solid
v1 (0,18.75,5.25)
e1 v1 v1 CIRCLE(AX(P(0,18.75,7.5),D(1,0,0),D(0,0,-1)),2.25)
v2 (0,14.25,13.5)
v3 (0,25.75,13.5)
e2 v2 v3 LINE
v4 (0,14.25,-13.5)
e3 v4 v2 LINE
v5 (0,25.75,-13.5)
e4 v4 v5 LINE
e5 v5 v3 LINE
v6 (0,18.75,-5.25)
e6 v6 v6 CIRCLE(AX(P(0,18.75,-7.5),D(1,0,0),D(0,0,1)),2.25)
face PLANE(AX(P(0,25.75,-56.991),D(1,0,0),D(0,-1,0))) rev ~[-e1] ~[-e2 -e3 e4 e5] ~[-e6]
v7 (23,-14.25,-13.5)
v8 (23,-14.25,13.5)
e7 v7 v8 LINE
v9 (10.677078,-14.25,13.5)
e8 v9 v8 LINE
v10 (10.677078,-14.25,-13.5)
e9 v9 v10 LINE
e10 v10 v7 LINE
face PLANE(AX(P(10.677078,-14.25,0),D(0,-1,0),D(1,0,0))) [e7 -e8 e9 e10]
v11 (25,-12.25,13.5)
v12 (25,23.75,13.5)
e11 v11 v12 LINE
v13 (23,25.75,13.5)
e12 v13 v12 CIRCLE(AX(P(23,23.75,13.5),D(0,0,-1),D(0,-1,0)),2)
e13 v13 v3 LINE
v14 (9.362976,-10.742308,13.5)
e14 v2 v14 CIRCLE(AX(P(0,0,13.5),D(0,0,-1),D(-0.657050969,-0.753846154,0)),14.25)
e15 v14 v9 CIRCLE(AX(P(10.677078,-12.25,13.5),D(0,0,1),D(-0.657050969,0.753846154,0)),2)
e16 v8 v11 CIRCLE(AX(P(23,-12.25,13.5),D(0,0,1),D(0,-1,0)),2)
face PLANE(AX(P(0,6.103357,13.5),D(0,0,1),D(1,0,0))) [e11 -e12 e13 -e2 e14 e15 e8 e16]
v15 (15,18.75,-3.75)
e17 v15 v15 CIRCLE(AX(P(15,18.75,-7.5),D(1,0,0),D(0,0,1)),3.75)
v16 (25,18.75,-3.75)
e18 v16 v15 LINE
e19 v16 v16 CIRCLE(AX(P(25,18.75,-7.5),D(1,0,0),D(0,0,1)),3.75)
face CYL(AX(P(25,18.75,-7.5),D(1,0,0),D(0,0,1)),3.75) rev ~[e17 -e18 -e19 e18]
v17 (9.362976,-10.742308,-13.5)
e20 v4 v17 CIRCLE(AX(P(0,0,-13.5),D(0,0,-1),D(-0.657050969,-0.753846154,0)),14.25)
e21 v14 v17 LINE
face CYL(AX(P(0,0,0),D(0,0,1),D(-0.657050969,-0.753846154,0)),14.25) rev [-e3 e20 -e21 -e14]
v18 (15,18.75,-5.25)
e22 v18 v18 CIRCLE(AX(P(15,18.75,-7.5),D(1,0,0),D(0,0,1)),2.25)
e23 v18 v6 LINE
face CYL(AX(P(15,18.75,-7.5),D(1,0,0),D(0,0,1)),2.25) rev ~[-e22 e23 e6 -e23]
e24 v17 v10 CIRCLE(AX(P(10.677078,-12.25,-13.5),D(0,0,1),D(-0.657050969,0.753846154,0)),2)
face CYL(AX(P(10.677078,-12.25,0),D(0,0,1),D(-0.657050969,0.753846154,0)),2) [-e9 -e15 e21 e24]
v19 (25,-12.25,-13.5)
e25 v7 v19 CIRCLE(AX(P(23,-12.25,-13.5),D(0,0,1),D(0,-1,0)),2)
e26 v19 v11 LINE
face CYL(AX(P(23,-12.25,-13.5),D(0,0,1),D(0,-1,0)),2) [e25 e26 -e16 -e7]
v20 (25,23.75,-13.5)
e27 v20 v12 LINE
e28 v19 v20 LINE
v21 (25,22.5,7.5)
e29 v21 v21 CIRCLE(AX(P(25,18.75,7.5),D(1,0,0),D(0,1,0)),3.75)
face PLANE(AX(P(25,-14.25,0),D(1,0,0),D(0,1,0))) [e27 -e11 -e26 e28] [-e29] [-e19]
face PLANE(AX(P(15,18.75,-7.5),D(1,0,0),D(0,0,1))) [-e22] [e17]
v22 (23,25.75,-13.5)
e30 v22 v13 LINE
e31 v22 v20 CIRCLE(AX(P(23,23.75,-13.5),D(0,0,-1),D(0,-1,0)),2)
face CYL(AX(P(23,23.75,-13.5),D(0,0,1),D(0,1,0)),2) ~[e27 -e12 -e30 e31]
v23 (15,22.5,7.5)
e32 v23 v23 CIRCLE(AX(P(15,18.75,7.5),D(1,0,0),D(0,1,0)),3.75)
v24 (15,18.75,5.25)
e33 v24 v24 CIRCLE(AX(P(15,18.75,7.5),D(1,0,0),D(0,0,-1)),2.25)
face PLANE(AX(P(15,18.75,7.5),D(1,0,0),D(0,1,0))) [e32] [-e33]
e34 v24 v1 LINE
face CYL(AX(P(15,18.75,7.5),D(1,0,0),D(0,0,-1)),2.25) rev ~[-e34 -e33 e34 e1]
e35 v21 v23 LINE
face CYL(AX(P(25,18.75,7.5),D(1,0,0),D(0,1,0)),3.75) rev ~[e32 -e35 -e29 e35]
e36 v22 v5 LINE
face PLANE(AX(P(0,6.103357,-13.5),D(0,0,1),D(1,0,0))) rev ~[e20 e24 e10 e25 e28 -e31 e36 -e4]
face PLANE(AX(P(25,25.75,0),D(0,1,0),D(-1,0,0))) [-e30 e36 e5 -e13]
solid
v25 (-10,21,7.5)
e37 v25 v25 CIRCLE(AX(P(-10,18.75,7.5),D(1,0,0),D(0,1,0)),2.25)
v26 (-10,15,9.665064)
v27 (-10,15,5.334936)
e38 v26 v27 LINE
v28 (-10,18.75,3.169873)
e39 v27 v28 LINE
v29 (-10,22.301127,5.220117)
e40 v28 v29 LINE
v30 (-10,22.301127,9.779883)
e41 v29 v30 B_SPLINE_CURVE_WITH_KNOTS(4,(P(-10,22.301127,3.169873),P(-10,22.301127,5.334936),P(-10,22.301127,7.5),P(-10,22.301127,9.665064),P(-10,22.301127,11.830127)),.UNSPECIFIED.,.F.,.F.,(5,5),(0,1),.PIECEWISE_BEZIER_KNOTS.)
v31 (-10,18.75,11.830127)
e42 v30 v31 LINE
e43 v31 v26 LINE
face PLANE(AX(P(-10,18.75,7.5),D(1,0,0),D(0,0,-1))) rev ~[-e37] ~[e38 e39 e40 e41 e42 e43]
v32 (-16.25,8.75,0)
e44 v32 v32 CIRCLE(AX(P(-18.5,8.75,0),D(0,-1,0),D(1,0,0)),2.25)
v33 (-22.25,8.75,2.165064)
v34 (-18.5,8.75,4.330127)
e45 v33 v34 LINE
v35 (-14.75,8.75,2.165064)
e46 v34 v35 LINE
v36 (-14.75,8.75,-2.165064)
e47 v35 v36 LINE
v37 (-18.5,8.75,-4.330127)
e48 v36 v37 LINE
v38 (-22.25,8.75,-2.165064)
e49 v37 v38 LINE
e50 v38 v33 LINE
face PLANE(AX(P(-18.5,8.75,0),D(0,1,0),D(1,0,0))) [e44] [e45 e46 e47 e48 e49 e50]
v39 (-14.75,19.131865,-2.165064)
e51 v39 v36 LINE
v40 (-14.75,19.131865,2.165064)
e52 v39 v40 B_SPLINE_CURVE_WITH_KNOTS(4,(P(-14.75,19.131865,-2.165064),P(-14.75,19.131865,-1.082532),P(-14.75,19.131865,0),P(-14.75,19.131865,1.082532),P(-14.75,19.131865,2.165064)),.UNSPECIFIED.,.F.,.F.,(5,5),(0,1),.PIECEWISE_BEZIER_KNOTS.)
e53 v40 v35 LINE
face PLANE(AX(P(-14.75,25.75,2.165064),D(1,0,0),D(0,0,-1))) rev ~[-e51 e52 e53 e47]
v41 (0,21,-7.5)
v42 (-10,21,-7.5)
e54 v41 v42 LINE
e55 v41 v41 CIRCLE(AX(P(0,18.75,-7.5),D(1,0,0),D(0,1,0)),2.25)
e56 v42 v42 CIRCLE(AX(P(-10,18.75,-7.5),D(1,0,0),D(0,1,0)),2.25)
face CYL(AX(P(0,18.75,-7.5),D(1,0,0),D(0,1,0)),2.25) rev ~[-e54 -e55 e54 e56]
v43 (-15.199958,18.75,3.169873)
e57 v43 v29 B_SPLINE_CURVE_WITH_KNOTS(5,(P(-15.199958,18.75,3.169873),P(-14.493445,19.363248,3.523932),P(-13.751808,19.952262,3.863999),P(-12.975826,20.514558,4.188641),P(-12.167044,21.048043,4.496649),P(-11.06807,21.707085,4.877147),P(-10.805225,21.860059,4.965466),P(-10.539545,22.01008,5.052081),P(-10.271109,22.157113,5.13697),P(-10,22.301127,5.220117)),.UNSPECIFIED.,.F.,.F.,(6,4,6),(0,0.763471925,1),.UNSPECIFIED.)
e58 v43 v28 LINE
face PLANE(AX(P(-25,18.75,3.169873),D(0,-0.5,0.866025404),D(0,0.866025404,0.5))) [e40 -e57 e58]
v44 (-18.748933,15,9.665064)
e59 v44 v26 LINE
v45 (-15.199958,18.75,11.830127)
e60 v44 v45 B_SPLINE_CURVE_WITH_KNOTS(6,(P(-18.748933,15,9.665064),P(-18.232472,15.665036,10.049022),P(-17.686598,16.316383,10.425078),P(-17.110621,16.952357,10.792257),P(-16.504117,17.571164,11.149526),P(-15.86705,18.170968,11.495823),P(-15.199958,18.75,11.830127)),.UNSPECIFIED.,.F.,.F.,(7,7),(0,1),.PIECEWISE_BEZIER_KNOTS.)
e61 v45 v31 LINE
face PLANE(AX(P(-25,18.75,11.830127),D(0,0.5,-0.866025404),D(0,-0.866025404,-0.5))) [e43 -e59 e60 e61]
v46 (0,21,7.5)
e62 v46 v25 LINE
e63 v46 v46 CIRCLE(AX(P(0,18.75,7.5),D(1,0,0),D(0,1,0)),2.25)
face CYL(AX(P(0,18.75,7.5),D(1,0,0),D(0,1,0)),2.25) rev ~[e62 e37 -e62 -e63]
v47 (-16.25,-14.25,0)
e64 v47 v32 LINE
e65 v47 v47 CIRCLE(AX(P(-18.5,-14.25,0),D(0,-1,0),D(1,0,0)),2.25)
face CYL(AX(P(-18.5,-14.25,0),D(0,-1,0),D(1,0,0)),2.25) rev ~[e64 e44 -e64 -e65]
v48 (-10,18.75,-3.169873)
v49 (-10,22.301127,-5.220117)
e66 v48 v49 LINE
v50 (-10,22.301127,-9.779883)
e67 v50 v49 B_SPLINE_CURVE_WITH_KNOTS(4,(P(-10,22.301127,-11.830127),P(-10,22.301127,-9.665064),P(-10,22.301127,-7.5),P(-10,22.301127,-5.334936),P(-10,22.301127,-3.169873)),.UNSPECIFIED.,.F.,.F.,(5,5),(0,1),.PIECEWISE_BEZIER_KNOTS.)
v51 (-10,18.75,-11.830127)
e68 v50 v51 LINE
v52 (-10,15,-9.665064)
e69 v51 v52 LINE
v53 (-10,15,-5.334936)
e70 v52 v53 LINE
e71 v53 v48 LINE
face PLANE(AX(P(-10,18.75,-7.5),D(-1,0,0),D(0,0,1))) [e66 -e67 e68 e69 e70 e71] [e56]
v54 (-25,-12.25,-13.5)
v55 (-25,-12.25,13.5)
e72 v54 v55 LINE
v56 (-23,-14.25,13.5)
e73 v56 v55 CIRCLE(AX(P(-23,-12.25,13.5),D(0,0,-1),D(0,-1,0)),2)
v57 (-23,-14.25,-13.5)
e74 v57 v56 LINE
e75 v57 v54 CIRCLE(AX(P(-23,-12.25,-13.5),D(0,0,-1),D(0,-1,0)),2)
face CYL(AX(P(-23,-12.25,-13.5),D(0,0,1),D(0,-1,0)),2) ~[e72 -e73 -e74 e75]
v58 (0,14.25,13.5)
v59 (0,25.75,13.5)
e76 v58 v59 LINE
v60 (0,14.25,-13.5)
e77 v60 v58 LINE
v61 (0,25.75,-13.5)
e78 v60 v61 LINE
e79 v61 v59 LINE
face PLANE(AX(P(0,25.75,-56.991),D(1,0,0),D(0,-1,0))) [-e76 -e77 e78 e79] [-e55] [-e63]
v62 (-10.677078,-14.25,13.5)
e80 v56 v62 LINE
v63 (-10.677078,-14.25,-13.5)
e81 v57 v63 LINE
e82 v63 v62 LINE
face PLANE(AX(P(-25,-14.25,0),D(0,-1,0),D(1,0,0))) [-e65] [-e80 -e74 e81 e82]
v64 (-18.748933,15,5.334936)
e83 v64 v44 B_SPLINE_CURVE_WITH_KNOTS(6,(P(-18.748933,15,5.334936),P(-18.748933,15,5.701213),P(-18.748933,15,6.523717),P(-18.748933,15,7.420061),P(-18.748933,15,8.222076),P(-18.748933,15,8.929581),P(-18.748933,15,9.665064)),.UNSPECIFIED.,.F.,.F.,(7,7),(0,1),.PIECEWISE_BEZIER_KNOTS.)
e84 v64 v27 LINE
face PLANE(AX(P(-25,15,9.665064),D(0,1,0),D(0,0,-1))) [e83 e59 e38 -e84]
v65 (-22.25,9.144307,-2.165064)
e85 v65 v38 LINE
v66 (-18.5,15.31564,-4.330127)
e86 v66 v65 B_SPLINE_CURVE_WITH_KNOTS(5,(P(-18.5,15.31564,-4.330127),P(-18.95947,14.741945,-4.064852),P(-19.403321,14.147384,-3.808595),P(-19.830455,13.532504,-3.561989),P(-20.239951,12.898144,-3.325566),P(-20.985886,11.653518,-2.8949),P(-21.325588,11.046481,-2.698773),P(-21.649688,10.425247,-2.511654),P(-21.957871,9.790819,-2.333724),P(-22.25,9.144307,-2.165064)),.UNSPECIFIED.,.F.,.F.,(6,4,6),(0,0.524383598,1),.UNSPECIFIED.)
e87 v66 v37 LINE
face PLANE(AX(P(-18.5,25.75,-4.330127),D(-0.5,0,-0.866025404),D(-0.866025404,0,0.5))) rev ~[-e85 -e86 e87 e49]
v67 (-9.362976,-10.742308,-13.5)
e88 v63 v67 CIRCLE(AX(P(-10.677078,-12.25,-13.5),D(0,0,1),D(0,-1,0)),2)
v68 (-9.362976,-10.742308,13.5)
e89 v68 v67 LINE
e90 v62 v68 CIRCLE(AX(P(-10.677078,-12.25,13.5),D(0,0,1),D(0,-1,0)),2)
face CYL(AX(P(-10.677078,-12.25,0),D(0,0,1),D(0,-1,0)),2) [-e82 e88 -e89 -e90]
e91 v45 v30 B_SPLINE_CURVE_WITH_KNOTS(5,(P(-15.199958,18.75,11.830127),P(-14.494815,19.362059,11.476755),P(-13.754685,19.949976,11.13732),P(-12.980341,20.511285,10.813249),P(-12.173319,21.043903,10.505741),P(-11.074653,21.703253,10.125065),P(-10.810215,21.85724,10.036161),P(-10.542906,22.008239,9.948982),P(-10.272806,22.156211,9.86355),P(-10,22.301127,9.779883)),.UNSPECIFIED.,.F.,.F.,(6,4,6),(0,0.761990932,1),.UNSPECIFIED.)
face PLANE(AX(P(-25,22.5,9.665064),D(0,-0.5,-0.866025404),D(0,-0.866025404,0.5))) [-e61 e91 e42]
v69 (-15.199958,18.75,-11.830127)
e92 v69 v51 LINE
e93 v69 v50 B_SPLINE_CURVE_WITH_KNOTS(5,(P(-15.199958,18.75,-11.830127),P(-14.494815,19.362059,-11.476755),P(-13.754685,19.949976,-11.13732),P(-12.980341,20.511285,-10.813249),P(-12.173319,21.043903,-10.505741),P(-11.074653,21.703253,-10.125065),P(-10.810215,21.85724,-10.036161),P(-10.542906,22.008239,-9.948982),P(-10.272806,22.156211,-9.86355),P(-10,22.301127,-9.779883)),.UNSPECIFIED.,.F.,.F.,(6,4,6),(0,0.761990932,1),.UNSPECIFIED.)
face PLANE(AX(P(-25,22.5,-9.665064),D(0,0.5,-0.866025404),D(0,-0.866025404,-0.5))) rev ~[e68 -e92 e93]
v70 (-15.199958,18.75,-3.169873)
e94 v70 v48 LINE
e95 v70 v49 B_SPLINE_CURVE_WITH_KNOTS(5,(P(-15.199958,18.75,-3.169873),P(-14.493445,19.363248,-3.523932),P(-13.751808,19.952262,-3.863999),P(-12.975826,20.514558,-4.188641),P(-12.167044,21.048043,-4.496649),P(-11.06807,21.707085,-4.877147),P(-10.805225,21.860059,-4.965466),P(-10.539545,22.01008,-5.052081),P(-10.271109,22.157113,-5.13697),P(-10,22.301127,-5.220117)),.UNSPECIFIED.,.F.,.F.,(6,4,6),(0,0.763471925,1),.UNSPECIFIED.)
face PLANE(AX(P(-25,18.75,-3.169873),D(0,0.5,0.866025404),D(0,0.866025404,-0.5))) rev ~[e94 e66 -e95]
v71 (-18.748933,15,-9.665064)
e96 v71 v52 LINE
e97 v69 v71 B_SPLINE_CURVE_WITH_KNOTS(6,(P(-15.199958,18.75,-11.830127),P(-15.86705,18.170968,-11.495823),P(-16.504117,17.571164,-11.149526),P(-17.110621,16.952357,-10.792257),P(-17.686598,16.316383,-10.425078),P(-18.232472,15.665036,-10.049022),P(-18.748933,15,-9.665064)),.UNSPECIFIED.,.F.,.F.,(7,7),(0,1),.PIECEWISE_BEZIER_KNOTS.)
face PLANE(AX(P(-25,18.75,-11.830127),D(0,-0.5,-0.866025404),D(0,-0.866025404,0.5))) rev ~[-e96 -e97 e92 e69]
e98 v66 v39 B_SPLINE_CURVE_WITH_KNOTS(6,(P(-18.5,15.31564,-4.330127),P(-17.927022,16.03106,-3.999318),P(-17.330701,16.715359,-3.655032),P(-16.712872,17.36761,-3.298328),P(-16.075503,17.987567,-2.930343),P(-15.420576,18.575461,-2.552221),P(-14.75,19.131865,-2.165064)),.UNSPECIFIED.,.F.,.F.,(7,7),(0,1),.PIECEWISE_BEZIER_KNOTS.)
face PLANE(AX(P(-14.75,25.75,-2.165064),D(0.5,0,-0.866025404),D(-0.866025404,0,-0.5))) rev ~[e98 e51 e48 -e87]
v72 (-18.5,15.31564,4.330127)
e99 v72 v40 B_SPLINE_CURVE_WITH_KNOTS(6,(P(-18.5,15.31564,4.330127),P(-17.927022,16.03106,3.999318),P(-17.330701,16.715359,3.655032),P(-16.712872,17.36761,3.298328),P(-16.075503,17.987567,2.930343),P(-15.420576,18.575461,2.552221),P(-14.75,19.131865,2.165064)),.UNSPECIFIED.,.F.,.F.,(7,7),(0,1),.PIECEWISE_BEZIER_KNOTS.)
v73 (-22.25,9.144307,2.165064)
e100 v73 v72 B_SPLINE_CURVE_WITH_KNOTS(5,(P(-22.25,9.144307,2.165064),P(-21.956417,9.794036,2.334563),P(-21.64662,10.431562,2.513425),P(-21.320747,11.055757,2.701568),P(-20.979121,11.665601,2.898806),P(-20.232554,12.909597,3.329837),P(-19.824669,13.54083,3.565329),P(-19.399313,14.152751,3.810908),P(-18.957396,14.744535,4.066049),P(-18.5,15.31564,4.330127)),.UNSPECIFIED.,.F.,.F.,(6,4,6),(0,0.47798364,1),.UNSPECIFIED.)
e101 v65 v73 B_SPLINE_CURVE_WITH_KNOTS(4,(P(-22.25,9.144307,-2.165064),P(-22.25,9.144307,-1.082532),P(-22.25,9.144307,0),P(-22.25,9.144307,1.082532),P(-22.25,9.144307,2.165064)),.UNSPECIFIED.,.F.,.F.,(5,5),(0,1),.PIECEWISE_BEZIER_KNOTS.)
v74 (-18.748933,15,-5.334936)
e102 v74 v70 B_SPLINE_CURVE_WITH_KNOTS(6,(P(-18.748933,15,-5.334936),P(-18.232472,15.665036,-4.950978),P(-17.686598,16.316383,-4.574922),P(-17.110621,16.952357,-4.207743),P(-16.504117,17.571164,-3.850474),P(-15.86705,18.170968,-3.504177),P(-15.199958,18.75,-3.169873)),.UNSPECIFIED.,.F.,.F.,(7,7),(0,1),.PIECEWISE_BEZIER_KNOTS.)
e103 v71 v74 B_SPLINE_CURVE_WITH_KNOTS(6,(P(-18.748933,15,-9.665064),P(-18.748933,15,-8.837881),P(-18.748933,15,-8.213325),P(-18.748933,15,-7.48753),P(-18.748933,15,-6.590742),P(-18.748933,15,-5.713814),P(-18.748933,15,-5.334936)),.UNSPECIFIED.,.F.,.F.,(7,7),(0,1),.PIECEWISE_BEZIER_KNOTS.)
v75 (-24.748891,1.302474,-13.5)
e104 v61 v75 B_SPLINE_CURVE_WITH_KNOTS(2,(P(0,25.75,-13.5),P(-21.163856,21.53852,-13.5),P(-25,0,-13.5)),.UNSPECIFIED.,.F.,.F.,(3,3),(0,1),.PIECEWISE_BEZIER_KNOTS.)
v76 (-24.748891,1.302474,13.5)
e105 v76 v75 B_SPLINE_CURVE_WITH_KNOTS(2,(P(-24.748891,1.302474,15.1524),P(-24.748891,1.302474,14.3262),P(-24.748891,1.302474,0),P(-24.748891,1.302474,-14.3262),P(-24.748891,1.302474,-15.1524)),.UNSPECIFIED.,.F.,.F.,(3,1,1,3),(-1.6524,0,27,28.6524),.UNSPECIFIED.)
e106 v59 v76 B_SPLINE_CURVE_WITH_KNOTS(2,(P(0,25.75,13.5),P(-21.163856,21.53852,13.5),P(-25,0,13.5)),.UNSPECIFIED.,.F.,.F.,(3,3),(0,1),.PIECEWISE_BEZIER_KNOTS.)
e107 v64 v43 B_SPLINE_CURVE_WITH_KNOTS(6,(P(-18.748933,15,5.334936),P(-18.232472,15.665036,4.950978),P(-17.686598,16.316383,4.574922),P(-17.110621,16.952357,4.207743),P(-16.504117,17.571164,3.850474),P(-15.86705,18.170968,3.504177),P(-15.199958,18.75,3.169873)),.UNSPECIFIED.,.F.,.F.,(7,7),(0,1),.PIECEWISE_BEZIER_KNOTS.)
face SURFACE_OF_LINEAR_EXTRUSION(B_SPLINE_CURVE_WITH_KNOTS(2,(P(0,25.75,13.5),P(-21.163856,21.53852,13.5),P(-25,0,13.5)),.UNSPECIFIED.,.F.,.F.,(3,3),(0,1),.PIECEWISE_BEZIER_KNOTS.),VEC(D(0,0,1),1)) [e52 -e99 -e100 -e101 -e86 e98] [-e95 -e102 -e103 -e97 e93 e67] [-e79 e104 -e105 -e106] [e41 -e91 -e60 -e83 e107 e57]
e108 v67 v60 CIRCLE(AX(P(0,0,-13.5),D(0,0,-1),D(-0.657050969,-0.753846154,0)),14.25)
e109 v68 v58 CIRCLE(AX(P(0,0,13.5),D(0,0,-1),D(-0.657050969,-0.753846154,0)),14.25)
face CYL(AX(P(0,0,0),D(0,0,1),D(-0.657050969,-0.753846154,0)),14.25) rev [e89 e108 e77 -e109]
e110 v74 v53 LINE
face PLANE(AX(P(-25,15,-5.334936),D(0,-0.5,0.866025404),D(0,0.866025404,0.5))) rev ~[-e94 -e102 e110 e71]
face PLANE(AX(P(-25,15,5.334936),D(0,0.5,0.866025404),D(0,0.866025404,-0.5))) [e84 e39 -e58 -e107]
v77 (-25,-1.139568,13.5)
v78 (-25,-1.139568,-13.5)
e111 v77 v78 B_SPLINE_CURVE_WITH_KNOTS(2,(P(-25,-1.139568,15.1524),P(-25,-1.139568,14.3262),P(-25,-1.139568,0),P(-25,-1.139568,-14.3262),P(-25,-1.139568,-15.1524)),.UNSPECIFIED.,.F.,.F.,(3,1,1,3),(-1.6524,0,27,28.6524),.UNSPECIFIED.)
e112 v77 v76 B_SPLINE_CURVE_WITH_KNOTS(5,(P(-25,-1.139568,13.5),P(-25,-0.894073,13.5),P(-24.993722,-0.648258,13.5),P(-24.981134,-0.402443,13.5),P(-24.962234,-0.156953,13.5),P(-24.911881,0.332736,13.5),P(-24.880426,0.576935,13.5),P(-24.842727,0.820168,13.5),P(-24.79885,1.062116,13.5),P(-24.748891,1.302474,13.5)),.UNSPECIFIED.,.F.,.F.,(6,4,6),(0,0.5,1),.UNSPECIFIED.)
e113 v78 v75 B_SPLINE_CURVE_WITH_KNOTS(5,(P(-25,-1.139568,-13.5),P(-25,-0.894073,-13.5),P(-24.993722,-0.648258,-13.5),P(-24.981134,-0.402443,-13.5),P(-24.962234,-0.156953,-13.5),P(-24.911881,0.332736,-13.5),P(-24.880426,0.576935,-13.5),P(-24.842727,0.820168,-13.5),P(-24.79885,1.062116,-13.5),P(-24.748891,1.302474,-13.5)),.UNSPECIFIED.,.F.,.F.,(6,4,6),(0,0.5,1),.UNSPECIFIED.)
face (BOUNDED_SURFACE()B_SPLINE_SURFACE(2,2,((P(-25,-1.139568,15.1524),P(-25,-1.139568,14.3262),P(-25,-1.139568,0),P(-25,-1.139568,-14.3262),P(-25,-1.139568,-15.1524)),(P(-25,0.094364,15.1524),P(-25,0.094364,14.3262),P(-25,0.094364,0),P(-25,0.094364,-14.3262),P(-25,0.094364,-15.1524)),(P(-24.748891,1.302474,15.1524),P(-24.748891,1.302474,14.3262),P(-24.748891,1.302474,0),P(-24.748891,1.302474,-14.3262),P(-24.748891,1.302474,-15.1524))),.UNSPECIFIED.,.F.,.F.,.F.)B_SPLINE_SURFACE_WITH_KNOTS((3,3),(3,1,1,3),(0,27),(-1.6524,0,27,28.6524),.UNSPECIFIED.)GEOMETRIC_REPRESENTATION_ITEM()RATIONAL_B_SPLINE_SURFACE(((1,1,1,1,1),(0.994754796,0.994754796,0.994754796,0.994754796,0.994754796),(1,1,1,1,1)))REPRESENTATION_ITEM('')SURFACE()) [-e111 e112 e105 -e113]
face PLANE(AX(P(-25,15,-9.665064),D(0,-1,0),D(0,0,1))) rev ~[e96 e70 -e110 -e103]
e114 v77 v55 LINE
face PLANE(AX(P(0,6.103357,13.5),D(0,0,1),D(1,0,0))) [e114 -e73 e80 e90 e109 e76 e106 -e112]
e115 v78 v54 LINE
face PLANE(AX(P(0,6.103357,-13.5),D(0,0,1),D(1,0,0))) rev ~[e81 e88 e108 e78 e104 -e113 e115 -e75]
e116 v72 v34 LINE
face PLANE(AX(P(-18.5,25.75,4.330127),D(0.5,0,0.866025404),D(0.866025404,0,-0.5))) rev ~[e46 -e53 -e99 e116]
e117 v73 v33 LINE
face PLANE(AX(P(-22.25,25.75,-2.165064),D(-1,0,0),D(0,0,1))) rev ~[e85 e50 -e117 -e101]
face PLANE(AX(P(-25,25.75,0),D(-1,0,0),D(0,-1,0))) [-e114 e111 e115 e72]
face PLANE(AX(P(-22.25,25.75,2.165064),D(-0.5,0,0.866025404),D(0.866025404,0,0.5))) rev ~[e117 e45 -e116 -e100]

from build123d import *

# Parameters (mm, degrees)
BOSS_EXTRUDE1_DEPTH    = 13.5
FILLET1_R              = 2
SPLIT1_SURFACE_1_BACK  = 70.491
SPLIT1_SURFACE_1_DEPTH = 140.982
SPLIT1_SURFACE_2_BACK  = 70.491
SPLIT1_SURFACE_2_DEPTH = 140.982
SKETCH3_R              = 3.75
CUT_EXTRUDE1_DEPTH     = 10
SKETCH7_R              = 2.25
CUT_EXTRUDE3_DEPTH     = 15
CUT_EXTRUDE2_DEPTH     = 27
FILLET2_R              = 12
SKETCH8_R              = 2.25
CUT_EXTRUDE4_DEPTH     = 25
CUT_EXTRUDE5_DEPTH     = 15
SKETCH10_R             = 2.25
CUT_EXTRUDE6_DEPTH     = 35
CUT_EXTRUDE7_DEPTH     = 17


with BuildPart() as part:
    # Sketch1 → Boss-Extrude1 (new, symmetric)
    with BuildSketch(Plane.XY):
        with BuildLine():
            Line((10.677078252, -14.25), (25, -14.25))
            Line((25, -14.25), (25, 25.75))
            Line((25, 25.75), (-25, 25.75))
            Line((-25, 25.75), (-25, -14.25))
            Line((-25, -14.25), (-10.677078252, -14.25))
            ThreePointArc((-10.677078252, -14.25), (-8.804194831, -12.951646415), (-9.362976313, -10.742307692))
            ThreePointArc((-9.362976313, -10.742307692), (0, 14.25), (9.362976313, -10.742307692))
            ThreePointArc((9.362976313, -10.742307692), (8.804194831, -12.951646415), (10.677078252, -14.25))
        make_face()
    extrude(amount=BOSS_EXTRUDE1_DEPTH, both=True)

    # Fillet1
    fillet1_edges = [part.edges().sort_by_distance(p)[0] for p in [
        (25, 25.75, 0),
        (25, -14.25, 0),
        (-25, -14.25, 0),
    ]]
    fillet(fillet1_edges, radius=FILLET1_R)


with BuildPart() as body_2:
    # Split1: the piece behind the surface
    add(part.part)
    # Split1 surface: a surface, the sketch's curves swept straight by 140.982 mm
    with BuildLine(Plane.XY.offset(13.5).offset(-SPLIT1_SURFACE_1_BACK), mode=Mode.PRIVATE) as split1_surface_1_path:
        Line((0, 25.75), (0, 0))
    split1_surface_1 = Shell.extrude(split1_surface_1_path.wire(), (0 * SPLIT1_SURFACE_1_DEPTH, 0 * SPLIT1_SURFACE_1_DEPTH, 1 * SPLIT1_SURFACE_1_DEPTH))
    split(bisect_by=split1_surface_1, keep=Keep.BOTTOM)

    # Sketch6 → Cut-Extrude2 (cut)
    with BuildSketch(Plane.XY.offset(13.5)):
        with BuildLine():
            Line((-25, 25.75), (-25, 0))
            add(Edge.make_bspline(
                [(0, 25.75), (-21.163856035, 21.538520056), (-25, 0)],
                knots=[0, 0, 0, 1, 1, 1], degree=2))
            Line((0, 25.75), (-25, 25.75))
        make_face()
    extrude(amount=-CUT_EXTRUDE2_DEPTH, mode=Mode.SUBTRACT)

    # Fillet2
    fillet2_edges = [body_2.edges().sort_by_distance(p)[0] for p in [
        (-25, 0, 0),
    ]]
    fillet(fillet2_edges, radius=FILLET2_R)

    # Sketch8 → Cut-Extrude4 (cut)
    with BuildSketch(Plane(origin=(0, 0, 0), x_dir=(0, 0, -1), z_dir=(1, 0, 0))):
        with Locations(Location((7.5, 18.75, 0), (0, 0, 90))):
            Circle(SKETCH8_R)
        with Locations(Location((-7.5, 18.75, 0), (0, 0, 90))):
            Circle(SKETCH8_R)
    extrude(amount=-CUT_EXTRUDE4_DEPTH, mode=Mode.SUBTRACT)

    # Sketch9 → Cut-Extrude5 (cut)
    with BuildSketch(Plane.ZY.offset(25)):
        Polygon((-5.334936491, 22.5), (-9.665063509, 22.5), (-11.830127019, 18.75), (-9.665063509, 15), (-5.334936491, 15), (-3.169872981, 18.75), align=None)
        Polygon((3.169872981, 18.75), (5.334936491, 22.5), (9.665063509, 22.5), (11.830127019, 18.75), (9.665063509, 15), (5.334936491, 15), align=None)
    extrude(amount=-CUT_EXTRUDE5_DEPTH, mode=Mode.SUBTRACT)

    # Sketch10 → Cut-Extrude6 (cut)
    with BuildSketch(Plane.XZ.offset(14.25)):
        with Locations((-18.5, 0)):
            Circle(SKETCH10_R)
    extrude(amount=-CUT_EXTRUDE6_DEPTH, mode=Mode.SUBTRACT)

    # Sketch11 → Cut-Extrude7 (cut)
    with BuildSketch(Plane(origin=(0, 25.75, 0), x_dir=(1, 0, 0), z_dir=(0, 1, 0))):
        Polygon((-14.75, -2.165063509), (-14.75, 2.165063509), (-18.5, 4.330127019), (-22.25, 2.165063509), (-22.25, -2.165063509), (-18.5, -4.330127019), align=None)
    extrude(amount=-CUT_EXTRUDE7_DEPTH, mode=Mode.SUBTRACT)


with BuildPart() as part_1:
    add(part.part)

    # Split1: split by a surface, the side it looks to stays
    # Split1 surface: a surface, the sketch's curves swept straight by 140.982 mm
    with BuildLine(Plane.XY.offset(13.5).offset(-SPLIT1_SURFACE_2_BACK), mode=Mode.PRIVATE) as split1_surface_2_path:
        Line((0, 25.75), (0, 0))
    split1_surface_2 = Shell.extrude(split1_surface_2_path.wire(), (0 * SPLIT1_SURFACE_2_DEPTH, 0 * SPLIT1_SURFACE_2_DEPTH, 1 * SPLIT1_SURFACE_2_DEPTH))
    split(bisect_by=split1_surface_2, keep=Keep.TOP)

    # Sketch3 → Cut-Extrude1 (cut)
    with BuildSketch(Plane(origin=(25, 0, 0), x_dir=(0, 0, -1), z_dir=(1, 0, 0))):
        with Locations(Location((-7.5, 18.75, 0), (0, 0, 90))):
            Circle(SKETCH3_R)
        with Locations(Location((7.5, 18.75, 0), (0, 0, 180))):
            Circle(SKETCH3_R)
    extrude(amount=-CUT_EXTRUDE1_DEPTH, mode=Mode.SUBTRACT)

    # Sketch7 → Cut-Extrude3 (cut)
    with BuildSketch(Plane(origin=(15, 0, 0), x_dir=(0, 0, -1), z_dir=(1, 0, 0))):
        with Locations((-7.5, 18.75)):
            Circle(SKETCH7_R)
        with Locations(Location((7.5, 18.75, 0), (0, 0, 180))):
            Circle(SKETCH7_R)
    extrude(amount=-CUT_EXTRUDE3_DEPTH, mode=Mode.SUBTRACT)


solid = Compound([body_2.part, part_1.part])
